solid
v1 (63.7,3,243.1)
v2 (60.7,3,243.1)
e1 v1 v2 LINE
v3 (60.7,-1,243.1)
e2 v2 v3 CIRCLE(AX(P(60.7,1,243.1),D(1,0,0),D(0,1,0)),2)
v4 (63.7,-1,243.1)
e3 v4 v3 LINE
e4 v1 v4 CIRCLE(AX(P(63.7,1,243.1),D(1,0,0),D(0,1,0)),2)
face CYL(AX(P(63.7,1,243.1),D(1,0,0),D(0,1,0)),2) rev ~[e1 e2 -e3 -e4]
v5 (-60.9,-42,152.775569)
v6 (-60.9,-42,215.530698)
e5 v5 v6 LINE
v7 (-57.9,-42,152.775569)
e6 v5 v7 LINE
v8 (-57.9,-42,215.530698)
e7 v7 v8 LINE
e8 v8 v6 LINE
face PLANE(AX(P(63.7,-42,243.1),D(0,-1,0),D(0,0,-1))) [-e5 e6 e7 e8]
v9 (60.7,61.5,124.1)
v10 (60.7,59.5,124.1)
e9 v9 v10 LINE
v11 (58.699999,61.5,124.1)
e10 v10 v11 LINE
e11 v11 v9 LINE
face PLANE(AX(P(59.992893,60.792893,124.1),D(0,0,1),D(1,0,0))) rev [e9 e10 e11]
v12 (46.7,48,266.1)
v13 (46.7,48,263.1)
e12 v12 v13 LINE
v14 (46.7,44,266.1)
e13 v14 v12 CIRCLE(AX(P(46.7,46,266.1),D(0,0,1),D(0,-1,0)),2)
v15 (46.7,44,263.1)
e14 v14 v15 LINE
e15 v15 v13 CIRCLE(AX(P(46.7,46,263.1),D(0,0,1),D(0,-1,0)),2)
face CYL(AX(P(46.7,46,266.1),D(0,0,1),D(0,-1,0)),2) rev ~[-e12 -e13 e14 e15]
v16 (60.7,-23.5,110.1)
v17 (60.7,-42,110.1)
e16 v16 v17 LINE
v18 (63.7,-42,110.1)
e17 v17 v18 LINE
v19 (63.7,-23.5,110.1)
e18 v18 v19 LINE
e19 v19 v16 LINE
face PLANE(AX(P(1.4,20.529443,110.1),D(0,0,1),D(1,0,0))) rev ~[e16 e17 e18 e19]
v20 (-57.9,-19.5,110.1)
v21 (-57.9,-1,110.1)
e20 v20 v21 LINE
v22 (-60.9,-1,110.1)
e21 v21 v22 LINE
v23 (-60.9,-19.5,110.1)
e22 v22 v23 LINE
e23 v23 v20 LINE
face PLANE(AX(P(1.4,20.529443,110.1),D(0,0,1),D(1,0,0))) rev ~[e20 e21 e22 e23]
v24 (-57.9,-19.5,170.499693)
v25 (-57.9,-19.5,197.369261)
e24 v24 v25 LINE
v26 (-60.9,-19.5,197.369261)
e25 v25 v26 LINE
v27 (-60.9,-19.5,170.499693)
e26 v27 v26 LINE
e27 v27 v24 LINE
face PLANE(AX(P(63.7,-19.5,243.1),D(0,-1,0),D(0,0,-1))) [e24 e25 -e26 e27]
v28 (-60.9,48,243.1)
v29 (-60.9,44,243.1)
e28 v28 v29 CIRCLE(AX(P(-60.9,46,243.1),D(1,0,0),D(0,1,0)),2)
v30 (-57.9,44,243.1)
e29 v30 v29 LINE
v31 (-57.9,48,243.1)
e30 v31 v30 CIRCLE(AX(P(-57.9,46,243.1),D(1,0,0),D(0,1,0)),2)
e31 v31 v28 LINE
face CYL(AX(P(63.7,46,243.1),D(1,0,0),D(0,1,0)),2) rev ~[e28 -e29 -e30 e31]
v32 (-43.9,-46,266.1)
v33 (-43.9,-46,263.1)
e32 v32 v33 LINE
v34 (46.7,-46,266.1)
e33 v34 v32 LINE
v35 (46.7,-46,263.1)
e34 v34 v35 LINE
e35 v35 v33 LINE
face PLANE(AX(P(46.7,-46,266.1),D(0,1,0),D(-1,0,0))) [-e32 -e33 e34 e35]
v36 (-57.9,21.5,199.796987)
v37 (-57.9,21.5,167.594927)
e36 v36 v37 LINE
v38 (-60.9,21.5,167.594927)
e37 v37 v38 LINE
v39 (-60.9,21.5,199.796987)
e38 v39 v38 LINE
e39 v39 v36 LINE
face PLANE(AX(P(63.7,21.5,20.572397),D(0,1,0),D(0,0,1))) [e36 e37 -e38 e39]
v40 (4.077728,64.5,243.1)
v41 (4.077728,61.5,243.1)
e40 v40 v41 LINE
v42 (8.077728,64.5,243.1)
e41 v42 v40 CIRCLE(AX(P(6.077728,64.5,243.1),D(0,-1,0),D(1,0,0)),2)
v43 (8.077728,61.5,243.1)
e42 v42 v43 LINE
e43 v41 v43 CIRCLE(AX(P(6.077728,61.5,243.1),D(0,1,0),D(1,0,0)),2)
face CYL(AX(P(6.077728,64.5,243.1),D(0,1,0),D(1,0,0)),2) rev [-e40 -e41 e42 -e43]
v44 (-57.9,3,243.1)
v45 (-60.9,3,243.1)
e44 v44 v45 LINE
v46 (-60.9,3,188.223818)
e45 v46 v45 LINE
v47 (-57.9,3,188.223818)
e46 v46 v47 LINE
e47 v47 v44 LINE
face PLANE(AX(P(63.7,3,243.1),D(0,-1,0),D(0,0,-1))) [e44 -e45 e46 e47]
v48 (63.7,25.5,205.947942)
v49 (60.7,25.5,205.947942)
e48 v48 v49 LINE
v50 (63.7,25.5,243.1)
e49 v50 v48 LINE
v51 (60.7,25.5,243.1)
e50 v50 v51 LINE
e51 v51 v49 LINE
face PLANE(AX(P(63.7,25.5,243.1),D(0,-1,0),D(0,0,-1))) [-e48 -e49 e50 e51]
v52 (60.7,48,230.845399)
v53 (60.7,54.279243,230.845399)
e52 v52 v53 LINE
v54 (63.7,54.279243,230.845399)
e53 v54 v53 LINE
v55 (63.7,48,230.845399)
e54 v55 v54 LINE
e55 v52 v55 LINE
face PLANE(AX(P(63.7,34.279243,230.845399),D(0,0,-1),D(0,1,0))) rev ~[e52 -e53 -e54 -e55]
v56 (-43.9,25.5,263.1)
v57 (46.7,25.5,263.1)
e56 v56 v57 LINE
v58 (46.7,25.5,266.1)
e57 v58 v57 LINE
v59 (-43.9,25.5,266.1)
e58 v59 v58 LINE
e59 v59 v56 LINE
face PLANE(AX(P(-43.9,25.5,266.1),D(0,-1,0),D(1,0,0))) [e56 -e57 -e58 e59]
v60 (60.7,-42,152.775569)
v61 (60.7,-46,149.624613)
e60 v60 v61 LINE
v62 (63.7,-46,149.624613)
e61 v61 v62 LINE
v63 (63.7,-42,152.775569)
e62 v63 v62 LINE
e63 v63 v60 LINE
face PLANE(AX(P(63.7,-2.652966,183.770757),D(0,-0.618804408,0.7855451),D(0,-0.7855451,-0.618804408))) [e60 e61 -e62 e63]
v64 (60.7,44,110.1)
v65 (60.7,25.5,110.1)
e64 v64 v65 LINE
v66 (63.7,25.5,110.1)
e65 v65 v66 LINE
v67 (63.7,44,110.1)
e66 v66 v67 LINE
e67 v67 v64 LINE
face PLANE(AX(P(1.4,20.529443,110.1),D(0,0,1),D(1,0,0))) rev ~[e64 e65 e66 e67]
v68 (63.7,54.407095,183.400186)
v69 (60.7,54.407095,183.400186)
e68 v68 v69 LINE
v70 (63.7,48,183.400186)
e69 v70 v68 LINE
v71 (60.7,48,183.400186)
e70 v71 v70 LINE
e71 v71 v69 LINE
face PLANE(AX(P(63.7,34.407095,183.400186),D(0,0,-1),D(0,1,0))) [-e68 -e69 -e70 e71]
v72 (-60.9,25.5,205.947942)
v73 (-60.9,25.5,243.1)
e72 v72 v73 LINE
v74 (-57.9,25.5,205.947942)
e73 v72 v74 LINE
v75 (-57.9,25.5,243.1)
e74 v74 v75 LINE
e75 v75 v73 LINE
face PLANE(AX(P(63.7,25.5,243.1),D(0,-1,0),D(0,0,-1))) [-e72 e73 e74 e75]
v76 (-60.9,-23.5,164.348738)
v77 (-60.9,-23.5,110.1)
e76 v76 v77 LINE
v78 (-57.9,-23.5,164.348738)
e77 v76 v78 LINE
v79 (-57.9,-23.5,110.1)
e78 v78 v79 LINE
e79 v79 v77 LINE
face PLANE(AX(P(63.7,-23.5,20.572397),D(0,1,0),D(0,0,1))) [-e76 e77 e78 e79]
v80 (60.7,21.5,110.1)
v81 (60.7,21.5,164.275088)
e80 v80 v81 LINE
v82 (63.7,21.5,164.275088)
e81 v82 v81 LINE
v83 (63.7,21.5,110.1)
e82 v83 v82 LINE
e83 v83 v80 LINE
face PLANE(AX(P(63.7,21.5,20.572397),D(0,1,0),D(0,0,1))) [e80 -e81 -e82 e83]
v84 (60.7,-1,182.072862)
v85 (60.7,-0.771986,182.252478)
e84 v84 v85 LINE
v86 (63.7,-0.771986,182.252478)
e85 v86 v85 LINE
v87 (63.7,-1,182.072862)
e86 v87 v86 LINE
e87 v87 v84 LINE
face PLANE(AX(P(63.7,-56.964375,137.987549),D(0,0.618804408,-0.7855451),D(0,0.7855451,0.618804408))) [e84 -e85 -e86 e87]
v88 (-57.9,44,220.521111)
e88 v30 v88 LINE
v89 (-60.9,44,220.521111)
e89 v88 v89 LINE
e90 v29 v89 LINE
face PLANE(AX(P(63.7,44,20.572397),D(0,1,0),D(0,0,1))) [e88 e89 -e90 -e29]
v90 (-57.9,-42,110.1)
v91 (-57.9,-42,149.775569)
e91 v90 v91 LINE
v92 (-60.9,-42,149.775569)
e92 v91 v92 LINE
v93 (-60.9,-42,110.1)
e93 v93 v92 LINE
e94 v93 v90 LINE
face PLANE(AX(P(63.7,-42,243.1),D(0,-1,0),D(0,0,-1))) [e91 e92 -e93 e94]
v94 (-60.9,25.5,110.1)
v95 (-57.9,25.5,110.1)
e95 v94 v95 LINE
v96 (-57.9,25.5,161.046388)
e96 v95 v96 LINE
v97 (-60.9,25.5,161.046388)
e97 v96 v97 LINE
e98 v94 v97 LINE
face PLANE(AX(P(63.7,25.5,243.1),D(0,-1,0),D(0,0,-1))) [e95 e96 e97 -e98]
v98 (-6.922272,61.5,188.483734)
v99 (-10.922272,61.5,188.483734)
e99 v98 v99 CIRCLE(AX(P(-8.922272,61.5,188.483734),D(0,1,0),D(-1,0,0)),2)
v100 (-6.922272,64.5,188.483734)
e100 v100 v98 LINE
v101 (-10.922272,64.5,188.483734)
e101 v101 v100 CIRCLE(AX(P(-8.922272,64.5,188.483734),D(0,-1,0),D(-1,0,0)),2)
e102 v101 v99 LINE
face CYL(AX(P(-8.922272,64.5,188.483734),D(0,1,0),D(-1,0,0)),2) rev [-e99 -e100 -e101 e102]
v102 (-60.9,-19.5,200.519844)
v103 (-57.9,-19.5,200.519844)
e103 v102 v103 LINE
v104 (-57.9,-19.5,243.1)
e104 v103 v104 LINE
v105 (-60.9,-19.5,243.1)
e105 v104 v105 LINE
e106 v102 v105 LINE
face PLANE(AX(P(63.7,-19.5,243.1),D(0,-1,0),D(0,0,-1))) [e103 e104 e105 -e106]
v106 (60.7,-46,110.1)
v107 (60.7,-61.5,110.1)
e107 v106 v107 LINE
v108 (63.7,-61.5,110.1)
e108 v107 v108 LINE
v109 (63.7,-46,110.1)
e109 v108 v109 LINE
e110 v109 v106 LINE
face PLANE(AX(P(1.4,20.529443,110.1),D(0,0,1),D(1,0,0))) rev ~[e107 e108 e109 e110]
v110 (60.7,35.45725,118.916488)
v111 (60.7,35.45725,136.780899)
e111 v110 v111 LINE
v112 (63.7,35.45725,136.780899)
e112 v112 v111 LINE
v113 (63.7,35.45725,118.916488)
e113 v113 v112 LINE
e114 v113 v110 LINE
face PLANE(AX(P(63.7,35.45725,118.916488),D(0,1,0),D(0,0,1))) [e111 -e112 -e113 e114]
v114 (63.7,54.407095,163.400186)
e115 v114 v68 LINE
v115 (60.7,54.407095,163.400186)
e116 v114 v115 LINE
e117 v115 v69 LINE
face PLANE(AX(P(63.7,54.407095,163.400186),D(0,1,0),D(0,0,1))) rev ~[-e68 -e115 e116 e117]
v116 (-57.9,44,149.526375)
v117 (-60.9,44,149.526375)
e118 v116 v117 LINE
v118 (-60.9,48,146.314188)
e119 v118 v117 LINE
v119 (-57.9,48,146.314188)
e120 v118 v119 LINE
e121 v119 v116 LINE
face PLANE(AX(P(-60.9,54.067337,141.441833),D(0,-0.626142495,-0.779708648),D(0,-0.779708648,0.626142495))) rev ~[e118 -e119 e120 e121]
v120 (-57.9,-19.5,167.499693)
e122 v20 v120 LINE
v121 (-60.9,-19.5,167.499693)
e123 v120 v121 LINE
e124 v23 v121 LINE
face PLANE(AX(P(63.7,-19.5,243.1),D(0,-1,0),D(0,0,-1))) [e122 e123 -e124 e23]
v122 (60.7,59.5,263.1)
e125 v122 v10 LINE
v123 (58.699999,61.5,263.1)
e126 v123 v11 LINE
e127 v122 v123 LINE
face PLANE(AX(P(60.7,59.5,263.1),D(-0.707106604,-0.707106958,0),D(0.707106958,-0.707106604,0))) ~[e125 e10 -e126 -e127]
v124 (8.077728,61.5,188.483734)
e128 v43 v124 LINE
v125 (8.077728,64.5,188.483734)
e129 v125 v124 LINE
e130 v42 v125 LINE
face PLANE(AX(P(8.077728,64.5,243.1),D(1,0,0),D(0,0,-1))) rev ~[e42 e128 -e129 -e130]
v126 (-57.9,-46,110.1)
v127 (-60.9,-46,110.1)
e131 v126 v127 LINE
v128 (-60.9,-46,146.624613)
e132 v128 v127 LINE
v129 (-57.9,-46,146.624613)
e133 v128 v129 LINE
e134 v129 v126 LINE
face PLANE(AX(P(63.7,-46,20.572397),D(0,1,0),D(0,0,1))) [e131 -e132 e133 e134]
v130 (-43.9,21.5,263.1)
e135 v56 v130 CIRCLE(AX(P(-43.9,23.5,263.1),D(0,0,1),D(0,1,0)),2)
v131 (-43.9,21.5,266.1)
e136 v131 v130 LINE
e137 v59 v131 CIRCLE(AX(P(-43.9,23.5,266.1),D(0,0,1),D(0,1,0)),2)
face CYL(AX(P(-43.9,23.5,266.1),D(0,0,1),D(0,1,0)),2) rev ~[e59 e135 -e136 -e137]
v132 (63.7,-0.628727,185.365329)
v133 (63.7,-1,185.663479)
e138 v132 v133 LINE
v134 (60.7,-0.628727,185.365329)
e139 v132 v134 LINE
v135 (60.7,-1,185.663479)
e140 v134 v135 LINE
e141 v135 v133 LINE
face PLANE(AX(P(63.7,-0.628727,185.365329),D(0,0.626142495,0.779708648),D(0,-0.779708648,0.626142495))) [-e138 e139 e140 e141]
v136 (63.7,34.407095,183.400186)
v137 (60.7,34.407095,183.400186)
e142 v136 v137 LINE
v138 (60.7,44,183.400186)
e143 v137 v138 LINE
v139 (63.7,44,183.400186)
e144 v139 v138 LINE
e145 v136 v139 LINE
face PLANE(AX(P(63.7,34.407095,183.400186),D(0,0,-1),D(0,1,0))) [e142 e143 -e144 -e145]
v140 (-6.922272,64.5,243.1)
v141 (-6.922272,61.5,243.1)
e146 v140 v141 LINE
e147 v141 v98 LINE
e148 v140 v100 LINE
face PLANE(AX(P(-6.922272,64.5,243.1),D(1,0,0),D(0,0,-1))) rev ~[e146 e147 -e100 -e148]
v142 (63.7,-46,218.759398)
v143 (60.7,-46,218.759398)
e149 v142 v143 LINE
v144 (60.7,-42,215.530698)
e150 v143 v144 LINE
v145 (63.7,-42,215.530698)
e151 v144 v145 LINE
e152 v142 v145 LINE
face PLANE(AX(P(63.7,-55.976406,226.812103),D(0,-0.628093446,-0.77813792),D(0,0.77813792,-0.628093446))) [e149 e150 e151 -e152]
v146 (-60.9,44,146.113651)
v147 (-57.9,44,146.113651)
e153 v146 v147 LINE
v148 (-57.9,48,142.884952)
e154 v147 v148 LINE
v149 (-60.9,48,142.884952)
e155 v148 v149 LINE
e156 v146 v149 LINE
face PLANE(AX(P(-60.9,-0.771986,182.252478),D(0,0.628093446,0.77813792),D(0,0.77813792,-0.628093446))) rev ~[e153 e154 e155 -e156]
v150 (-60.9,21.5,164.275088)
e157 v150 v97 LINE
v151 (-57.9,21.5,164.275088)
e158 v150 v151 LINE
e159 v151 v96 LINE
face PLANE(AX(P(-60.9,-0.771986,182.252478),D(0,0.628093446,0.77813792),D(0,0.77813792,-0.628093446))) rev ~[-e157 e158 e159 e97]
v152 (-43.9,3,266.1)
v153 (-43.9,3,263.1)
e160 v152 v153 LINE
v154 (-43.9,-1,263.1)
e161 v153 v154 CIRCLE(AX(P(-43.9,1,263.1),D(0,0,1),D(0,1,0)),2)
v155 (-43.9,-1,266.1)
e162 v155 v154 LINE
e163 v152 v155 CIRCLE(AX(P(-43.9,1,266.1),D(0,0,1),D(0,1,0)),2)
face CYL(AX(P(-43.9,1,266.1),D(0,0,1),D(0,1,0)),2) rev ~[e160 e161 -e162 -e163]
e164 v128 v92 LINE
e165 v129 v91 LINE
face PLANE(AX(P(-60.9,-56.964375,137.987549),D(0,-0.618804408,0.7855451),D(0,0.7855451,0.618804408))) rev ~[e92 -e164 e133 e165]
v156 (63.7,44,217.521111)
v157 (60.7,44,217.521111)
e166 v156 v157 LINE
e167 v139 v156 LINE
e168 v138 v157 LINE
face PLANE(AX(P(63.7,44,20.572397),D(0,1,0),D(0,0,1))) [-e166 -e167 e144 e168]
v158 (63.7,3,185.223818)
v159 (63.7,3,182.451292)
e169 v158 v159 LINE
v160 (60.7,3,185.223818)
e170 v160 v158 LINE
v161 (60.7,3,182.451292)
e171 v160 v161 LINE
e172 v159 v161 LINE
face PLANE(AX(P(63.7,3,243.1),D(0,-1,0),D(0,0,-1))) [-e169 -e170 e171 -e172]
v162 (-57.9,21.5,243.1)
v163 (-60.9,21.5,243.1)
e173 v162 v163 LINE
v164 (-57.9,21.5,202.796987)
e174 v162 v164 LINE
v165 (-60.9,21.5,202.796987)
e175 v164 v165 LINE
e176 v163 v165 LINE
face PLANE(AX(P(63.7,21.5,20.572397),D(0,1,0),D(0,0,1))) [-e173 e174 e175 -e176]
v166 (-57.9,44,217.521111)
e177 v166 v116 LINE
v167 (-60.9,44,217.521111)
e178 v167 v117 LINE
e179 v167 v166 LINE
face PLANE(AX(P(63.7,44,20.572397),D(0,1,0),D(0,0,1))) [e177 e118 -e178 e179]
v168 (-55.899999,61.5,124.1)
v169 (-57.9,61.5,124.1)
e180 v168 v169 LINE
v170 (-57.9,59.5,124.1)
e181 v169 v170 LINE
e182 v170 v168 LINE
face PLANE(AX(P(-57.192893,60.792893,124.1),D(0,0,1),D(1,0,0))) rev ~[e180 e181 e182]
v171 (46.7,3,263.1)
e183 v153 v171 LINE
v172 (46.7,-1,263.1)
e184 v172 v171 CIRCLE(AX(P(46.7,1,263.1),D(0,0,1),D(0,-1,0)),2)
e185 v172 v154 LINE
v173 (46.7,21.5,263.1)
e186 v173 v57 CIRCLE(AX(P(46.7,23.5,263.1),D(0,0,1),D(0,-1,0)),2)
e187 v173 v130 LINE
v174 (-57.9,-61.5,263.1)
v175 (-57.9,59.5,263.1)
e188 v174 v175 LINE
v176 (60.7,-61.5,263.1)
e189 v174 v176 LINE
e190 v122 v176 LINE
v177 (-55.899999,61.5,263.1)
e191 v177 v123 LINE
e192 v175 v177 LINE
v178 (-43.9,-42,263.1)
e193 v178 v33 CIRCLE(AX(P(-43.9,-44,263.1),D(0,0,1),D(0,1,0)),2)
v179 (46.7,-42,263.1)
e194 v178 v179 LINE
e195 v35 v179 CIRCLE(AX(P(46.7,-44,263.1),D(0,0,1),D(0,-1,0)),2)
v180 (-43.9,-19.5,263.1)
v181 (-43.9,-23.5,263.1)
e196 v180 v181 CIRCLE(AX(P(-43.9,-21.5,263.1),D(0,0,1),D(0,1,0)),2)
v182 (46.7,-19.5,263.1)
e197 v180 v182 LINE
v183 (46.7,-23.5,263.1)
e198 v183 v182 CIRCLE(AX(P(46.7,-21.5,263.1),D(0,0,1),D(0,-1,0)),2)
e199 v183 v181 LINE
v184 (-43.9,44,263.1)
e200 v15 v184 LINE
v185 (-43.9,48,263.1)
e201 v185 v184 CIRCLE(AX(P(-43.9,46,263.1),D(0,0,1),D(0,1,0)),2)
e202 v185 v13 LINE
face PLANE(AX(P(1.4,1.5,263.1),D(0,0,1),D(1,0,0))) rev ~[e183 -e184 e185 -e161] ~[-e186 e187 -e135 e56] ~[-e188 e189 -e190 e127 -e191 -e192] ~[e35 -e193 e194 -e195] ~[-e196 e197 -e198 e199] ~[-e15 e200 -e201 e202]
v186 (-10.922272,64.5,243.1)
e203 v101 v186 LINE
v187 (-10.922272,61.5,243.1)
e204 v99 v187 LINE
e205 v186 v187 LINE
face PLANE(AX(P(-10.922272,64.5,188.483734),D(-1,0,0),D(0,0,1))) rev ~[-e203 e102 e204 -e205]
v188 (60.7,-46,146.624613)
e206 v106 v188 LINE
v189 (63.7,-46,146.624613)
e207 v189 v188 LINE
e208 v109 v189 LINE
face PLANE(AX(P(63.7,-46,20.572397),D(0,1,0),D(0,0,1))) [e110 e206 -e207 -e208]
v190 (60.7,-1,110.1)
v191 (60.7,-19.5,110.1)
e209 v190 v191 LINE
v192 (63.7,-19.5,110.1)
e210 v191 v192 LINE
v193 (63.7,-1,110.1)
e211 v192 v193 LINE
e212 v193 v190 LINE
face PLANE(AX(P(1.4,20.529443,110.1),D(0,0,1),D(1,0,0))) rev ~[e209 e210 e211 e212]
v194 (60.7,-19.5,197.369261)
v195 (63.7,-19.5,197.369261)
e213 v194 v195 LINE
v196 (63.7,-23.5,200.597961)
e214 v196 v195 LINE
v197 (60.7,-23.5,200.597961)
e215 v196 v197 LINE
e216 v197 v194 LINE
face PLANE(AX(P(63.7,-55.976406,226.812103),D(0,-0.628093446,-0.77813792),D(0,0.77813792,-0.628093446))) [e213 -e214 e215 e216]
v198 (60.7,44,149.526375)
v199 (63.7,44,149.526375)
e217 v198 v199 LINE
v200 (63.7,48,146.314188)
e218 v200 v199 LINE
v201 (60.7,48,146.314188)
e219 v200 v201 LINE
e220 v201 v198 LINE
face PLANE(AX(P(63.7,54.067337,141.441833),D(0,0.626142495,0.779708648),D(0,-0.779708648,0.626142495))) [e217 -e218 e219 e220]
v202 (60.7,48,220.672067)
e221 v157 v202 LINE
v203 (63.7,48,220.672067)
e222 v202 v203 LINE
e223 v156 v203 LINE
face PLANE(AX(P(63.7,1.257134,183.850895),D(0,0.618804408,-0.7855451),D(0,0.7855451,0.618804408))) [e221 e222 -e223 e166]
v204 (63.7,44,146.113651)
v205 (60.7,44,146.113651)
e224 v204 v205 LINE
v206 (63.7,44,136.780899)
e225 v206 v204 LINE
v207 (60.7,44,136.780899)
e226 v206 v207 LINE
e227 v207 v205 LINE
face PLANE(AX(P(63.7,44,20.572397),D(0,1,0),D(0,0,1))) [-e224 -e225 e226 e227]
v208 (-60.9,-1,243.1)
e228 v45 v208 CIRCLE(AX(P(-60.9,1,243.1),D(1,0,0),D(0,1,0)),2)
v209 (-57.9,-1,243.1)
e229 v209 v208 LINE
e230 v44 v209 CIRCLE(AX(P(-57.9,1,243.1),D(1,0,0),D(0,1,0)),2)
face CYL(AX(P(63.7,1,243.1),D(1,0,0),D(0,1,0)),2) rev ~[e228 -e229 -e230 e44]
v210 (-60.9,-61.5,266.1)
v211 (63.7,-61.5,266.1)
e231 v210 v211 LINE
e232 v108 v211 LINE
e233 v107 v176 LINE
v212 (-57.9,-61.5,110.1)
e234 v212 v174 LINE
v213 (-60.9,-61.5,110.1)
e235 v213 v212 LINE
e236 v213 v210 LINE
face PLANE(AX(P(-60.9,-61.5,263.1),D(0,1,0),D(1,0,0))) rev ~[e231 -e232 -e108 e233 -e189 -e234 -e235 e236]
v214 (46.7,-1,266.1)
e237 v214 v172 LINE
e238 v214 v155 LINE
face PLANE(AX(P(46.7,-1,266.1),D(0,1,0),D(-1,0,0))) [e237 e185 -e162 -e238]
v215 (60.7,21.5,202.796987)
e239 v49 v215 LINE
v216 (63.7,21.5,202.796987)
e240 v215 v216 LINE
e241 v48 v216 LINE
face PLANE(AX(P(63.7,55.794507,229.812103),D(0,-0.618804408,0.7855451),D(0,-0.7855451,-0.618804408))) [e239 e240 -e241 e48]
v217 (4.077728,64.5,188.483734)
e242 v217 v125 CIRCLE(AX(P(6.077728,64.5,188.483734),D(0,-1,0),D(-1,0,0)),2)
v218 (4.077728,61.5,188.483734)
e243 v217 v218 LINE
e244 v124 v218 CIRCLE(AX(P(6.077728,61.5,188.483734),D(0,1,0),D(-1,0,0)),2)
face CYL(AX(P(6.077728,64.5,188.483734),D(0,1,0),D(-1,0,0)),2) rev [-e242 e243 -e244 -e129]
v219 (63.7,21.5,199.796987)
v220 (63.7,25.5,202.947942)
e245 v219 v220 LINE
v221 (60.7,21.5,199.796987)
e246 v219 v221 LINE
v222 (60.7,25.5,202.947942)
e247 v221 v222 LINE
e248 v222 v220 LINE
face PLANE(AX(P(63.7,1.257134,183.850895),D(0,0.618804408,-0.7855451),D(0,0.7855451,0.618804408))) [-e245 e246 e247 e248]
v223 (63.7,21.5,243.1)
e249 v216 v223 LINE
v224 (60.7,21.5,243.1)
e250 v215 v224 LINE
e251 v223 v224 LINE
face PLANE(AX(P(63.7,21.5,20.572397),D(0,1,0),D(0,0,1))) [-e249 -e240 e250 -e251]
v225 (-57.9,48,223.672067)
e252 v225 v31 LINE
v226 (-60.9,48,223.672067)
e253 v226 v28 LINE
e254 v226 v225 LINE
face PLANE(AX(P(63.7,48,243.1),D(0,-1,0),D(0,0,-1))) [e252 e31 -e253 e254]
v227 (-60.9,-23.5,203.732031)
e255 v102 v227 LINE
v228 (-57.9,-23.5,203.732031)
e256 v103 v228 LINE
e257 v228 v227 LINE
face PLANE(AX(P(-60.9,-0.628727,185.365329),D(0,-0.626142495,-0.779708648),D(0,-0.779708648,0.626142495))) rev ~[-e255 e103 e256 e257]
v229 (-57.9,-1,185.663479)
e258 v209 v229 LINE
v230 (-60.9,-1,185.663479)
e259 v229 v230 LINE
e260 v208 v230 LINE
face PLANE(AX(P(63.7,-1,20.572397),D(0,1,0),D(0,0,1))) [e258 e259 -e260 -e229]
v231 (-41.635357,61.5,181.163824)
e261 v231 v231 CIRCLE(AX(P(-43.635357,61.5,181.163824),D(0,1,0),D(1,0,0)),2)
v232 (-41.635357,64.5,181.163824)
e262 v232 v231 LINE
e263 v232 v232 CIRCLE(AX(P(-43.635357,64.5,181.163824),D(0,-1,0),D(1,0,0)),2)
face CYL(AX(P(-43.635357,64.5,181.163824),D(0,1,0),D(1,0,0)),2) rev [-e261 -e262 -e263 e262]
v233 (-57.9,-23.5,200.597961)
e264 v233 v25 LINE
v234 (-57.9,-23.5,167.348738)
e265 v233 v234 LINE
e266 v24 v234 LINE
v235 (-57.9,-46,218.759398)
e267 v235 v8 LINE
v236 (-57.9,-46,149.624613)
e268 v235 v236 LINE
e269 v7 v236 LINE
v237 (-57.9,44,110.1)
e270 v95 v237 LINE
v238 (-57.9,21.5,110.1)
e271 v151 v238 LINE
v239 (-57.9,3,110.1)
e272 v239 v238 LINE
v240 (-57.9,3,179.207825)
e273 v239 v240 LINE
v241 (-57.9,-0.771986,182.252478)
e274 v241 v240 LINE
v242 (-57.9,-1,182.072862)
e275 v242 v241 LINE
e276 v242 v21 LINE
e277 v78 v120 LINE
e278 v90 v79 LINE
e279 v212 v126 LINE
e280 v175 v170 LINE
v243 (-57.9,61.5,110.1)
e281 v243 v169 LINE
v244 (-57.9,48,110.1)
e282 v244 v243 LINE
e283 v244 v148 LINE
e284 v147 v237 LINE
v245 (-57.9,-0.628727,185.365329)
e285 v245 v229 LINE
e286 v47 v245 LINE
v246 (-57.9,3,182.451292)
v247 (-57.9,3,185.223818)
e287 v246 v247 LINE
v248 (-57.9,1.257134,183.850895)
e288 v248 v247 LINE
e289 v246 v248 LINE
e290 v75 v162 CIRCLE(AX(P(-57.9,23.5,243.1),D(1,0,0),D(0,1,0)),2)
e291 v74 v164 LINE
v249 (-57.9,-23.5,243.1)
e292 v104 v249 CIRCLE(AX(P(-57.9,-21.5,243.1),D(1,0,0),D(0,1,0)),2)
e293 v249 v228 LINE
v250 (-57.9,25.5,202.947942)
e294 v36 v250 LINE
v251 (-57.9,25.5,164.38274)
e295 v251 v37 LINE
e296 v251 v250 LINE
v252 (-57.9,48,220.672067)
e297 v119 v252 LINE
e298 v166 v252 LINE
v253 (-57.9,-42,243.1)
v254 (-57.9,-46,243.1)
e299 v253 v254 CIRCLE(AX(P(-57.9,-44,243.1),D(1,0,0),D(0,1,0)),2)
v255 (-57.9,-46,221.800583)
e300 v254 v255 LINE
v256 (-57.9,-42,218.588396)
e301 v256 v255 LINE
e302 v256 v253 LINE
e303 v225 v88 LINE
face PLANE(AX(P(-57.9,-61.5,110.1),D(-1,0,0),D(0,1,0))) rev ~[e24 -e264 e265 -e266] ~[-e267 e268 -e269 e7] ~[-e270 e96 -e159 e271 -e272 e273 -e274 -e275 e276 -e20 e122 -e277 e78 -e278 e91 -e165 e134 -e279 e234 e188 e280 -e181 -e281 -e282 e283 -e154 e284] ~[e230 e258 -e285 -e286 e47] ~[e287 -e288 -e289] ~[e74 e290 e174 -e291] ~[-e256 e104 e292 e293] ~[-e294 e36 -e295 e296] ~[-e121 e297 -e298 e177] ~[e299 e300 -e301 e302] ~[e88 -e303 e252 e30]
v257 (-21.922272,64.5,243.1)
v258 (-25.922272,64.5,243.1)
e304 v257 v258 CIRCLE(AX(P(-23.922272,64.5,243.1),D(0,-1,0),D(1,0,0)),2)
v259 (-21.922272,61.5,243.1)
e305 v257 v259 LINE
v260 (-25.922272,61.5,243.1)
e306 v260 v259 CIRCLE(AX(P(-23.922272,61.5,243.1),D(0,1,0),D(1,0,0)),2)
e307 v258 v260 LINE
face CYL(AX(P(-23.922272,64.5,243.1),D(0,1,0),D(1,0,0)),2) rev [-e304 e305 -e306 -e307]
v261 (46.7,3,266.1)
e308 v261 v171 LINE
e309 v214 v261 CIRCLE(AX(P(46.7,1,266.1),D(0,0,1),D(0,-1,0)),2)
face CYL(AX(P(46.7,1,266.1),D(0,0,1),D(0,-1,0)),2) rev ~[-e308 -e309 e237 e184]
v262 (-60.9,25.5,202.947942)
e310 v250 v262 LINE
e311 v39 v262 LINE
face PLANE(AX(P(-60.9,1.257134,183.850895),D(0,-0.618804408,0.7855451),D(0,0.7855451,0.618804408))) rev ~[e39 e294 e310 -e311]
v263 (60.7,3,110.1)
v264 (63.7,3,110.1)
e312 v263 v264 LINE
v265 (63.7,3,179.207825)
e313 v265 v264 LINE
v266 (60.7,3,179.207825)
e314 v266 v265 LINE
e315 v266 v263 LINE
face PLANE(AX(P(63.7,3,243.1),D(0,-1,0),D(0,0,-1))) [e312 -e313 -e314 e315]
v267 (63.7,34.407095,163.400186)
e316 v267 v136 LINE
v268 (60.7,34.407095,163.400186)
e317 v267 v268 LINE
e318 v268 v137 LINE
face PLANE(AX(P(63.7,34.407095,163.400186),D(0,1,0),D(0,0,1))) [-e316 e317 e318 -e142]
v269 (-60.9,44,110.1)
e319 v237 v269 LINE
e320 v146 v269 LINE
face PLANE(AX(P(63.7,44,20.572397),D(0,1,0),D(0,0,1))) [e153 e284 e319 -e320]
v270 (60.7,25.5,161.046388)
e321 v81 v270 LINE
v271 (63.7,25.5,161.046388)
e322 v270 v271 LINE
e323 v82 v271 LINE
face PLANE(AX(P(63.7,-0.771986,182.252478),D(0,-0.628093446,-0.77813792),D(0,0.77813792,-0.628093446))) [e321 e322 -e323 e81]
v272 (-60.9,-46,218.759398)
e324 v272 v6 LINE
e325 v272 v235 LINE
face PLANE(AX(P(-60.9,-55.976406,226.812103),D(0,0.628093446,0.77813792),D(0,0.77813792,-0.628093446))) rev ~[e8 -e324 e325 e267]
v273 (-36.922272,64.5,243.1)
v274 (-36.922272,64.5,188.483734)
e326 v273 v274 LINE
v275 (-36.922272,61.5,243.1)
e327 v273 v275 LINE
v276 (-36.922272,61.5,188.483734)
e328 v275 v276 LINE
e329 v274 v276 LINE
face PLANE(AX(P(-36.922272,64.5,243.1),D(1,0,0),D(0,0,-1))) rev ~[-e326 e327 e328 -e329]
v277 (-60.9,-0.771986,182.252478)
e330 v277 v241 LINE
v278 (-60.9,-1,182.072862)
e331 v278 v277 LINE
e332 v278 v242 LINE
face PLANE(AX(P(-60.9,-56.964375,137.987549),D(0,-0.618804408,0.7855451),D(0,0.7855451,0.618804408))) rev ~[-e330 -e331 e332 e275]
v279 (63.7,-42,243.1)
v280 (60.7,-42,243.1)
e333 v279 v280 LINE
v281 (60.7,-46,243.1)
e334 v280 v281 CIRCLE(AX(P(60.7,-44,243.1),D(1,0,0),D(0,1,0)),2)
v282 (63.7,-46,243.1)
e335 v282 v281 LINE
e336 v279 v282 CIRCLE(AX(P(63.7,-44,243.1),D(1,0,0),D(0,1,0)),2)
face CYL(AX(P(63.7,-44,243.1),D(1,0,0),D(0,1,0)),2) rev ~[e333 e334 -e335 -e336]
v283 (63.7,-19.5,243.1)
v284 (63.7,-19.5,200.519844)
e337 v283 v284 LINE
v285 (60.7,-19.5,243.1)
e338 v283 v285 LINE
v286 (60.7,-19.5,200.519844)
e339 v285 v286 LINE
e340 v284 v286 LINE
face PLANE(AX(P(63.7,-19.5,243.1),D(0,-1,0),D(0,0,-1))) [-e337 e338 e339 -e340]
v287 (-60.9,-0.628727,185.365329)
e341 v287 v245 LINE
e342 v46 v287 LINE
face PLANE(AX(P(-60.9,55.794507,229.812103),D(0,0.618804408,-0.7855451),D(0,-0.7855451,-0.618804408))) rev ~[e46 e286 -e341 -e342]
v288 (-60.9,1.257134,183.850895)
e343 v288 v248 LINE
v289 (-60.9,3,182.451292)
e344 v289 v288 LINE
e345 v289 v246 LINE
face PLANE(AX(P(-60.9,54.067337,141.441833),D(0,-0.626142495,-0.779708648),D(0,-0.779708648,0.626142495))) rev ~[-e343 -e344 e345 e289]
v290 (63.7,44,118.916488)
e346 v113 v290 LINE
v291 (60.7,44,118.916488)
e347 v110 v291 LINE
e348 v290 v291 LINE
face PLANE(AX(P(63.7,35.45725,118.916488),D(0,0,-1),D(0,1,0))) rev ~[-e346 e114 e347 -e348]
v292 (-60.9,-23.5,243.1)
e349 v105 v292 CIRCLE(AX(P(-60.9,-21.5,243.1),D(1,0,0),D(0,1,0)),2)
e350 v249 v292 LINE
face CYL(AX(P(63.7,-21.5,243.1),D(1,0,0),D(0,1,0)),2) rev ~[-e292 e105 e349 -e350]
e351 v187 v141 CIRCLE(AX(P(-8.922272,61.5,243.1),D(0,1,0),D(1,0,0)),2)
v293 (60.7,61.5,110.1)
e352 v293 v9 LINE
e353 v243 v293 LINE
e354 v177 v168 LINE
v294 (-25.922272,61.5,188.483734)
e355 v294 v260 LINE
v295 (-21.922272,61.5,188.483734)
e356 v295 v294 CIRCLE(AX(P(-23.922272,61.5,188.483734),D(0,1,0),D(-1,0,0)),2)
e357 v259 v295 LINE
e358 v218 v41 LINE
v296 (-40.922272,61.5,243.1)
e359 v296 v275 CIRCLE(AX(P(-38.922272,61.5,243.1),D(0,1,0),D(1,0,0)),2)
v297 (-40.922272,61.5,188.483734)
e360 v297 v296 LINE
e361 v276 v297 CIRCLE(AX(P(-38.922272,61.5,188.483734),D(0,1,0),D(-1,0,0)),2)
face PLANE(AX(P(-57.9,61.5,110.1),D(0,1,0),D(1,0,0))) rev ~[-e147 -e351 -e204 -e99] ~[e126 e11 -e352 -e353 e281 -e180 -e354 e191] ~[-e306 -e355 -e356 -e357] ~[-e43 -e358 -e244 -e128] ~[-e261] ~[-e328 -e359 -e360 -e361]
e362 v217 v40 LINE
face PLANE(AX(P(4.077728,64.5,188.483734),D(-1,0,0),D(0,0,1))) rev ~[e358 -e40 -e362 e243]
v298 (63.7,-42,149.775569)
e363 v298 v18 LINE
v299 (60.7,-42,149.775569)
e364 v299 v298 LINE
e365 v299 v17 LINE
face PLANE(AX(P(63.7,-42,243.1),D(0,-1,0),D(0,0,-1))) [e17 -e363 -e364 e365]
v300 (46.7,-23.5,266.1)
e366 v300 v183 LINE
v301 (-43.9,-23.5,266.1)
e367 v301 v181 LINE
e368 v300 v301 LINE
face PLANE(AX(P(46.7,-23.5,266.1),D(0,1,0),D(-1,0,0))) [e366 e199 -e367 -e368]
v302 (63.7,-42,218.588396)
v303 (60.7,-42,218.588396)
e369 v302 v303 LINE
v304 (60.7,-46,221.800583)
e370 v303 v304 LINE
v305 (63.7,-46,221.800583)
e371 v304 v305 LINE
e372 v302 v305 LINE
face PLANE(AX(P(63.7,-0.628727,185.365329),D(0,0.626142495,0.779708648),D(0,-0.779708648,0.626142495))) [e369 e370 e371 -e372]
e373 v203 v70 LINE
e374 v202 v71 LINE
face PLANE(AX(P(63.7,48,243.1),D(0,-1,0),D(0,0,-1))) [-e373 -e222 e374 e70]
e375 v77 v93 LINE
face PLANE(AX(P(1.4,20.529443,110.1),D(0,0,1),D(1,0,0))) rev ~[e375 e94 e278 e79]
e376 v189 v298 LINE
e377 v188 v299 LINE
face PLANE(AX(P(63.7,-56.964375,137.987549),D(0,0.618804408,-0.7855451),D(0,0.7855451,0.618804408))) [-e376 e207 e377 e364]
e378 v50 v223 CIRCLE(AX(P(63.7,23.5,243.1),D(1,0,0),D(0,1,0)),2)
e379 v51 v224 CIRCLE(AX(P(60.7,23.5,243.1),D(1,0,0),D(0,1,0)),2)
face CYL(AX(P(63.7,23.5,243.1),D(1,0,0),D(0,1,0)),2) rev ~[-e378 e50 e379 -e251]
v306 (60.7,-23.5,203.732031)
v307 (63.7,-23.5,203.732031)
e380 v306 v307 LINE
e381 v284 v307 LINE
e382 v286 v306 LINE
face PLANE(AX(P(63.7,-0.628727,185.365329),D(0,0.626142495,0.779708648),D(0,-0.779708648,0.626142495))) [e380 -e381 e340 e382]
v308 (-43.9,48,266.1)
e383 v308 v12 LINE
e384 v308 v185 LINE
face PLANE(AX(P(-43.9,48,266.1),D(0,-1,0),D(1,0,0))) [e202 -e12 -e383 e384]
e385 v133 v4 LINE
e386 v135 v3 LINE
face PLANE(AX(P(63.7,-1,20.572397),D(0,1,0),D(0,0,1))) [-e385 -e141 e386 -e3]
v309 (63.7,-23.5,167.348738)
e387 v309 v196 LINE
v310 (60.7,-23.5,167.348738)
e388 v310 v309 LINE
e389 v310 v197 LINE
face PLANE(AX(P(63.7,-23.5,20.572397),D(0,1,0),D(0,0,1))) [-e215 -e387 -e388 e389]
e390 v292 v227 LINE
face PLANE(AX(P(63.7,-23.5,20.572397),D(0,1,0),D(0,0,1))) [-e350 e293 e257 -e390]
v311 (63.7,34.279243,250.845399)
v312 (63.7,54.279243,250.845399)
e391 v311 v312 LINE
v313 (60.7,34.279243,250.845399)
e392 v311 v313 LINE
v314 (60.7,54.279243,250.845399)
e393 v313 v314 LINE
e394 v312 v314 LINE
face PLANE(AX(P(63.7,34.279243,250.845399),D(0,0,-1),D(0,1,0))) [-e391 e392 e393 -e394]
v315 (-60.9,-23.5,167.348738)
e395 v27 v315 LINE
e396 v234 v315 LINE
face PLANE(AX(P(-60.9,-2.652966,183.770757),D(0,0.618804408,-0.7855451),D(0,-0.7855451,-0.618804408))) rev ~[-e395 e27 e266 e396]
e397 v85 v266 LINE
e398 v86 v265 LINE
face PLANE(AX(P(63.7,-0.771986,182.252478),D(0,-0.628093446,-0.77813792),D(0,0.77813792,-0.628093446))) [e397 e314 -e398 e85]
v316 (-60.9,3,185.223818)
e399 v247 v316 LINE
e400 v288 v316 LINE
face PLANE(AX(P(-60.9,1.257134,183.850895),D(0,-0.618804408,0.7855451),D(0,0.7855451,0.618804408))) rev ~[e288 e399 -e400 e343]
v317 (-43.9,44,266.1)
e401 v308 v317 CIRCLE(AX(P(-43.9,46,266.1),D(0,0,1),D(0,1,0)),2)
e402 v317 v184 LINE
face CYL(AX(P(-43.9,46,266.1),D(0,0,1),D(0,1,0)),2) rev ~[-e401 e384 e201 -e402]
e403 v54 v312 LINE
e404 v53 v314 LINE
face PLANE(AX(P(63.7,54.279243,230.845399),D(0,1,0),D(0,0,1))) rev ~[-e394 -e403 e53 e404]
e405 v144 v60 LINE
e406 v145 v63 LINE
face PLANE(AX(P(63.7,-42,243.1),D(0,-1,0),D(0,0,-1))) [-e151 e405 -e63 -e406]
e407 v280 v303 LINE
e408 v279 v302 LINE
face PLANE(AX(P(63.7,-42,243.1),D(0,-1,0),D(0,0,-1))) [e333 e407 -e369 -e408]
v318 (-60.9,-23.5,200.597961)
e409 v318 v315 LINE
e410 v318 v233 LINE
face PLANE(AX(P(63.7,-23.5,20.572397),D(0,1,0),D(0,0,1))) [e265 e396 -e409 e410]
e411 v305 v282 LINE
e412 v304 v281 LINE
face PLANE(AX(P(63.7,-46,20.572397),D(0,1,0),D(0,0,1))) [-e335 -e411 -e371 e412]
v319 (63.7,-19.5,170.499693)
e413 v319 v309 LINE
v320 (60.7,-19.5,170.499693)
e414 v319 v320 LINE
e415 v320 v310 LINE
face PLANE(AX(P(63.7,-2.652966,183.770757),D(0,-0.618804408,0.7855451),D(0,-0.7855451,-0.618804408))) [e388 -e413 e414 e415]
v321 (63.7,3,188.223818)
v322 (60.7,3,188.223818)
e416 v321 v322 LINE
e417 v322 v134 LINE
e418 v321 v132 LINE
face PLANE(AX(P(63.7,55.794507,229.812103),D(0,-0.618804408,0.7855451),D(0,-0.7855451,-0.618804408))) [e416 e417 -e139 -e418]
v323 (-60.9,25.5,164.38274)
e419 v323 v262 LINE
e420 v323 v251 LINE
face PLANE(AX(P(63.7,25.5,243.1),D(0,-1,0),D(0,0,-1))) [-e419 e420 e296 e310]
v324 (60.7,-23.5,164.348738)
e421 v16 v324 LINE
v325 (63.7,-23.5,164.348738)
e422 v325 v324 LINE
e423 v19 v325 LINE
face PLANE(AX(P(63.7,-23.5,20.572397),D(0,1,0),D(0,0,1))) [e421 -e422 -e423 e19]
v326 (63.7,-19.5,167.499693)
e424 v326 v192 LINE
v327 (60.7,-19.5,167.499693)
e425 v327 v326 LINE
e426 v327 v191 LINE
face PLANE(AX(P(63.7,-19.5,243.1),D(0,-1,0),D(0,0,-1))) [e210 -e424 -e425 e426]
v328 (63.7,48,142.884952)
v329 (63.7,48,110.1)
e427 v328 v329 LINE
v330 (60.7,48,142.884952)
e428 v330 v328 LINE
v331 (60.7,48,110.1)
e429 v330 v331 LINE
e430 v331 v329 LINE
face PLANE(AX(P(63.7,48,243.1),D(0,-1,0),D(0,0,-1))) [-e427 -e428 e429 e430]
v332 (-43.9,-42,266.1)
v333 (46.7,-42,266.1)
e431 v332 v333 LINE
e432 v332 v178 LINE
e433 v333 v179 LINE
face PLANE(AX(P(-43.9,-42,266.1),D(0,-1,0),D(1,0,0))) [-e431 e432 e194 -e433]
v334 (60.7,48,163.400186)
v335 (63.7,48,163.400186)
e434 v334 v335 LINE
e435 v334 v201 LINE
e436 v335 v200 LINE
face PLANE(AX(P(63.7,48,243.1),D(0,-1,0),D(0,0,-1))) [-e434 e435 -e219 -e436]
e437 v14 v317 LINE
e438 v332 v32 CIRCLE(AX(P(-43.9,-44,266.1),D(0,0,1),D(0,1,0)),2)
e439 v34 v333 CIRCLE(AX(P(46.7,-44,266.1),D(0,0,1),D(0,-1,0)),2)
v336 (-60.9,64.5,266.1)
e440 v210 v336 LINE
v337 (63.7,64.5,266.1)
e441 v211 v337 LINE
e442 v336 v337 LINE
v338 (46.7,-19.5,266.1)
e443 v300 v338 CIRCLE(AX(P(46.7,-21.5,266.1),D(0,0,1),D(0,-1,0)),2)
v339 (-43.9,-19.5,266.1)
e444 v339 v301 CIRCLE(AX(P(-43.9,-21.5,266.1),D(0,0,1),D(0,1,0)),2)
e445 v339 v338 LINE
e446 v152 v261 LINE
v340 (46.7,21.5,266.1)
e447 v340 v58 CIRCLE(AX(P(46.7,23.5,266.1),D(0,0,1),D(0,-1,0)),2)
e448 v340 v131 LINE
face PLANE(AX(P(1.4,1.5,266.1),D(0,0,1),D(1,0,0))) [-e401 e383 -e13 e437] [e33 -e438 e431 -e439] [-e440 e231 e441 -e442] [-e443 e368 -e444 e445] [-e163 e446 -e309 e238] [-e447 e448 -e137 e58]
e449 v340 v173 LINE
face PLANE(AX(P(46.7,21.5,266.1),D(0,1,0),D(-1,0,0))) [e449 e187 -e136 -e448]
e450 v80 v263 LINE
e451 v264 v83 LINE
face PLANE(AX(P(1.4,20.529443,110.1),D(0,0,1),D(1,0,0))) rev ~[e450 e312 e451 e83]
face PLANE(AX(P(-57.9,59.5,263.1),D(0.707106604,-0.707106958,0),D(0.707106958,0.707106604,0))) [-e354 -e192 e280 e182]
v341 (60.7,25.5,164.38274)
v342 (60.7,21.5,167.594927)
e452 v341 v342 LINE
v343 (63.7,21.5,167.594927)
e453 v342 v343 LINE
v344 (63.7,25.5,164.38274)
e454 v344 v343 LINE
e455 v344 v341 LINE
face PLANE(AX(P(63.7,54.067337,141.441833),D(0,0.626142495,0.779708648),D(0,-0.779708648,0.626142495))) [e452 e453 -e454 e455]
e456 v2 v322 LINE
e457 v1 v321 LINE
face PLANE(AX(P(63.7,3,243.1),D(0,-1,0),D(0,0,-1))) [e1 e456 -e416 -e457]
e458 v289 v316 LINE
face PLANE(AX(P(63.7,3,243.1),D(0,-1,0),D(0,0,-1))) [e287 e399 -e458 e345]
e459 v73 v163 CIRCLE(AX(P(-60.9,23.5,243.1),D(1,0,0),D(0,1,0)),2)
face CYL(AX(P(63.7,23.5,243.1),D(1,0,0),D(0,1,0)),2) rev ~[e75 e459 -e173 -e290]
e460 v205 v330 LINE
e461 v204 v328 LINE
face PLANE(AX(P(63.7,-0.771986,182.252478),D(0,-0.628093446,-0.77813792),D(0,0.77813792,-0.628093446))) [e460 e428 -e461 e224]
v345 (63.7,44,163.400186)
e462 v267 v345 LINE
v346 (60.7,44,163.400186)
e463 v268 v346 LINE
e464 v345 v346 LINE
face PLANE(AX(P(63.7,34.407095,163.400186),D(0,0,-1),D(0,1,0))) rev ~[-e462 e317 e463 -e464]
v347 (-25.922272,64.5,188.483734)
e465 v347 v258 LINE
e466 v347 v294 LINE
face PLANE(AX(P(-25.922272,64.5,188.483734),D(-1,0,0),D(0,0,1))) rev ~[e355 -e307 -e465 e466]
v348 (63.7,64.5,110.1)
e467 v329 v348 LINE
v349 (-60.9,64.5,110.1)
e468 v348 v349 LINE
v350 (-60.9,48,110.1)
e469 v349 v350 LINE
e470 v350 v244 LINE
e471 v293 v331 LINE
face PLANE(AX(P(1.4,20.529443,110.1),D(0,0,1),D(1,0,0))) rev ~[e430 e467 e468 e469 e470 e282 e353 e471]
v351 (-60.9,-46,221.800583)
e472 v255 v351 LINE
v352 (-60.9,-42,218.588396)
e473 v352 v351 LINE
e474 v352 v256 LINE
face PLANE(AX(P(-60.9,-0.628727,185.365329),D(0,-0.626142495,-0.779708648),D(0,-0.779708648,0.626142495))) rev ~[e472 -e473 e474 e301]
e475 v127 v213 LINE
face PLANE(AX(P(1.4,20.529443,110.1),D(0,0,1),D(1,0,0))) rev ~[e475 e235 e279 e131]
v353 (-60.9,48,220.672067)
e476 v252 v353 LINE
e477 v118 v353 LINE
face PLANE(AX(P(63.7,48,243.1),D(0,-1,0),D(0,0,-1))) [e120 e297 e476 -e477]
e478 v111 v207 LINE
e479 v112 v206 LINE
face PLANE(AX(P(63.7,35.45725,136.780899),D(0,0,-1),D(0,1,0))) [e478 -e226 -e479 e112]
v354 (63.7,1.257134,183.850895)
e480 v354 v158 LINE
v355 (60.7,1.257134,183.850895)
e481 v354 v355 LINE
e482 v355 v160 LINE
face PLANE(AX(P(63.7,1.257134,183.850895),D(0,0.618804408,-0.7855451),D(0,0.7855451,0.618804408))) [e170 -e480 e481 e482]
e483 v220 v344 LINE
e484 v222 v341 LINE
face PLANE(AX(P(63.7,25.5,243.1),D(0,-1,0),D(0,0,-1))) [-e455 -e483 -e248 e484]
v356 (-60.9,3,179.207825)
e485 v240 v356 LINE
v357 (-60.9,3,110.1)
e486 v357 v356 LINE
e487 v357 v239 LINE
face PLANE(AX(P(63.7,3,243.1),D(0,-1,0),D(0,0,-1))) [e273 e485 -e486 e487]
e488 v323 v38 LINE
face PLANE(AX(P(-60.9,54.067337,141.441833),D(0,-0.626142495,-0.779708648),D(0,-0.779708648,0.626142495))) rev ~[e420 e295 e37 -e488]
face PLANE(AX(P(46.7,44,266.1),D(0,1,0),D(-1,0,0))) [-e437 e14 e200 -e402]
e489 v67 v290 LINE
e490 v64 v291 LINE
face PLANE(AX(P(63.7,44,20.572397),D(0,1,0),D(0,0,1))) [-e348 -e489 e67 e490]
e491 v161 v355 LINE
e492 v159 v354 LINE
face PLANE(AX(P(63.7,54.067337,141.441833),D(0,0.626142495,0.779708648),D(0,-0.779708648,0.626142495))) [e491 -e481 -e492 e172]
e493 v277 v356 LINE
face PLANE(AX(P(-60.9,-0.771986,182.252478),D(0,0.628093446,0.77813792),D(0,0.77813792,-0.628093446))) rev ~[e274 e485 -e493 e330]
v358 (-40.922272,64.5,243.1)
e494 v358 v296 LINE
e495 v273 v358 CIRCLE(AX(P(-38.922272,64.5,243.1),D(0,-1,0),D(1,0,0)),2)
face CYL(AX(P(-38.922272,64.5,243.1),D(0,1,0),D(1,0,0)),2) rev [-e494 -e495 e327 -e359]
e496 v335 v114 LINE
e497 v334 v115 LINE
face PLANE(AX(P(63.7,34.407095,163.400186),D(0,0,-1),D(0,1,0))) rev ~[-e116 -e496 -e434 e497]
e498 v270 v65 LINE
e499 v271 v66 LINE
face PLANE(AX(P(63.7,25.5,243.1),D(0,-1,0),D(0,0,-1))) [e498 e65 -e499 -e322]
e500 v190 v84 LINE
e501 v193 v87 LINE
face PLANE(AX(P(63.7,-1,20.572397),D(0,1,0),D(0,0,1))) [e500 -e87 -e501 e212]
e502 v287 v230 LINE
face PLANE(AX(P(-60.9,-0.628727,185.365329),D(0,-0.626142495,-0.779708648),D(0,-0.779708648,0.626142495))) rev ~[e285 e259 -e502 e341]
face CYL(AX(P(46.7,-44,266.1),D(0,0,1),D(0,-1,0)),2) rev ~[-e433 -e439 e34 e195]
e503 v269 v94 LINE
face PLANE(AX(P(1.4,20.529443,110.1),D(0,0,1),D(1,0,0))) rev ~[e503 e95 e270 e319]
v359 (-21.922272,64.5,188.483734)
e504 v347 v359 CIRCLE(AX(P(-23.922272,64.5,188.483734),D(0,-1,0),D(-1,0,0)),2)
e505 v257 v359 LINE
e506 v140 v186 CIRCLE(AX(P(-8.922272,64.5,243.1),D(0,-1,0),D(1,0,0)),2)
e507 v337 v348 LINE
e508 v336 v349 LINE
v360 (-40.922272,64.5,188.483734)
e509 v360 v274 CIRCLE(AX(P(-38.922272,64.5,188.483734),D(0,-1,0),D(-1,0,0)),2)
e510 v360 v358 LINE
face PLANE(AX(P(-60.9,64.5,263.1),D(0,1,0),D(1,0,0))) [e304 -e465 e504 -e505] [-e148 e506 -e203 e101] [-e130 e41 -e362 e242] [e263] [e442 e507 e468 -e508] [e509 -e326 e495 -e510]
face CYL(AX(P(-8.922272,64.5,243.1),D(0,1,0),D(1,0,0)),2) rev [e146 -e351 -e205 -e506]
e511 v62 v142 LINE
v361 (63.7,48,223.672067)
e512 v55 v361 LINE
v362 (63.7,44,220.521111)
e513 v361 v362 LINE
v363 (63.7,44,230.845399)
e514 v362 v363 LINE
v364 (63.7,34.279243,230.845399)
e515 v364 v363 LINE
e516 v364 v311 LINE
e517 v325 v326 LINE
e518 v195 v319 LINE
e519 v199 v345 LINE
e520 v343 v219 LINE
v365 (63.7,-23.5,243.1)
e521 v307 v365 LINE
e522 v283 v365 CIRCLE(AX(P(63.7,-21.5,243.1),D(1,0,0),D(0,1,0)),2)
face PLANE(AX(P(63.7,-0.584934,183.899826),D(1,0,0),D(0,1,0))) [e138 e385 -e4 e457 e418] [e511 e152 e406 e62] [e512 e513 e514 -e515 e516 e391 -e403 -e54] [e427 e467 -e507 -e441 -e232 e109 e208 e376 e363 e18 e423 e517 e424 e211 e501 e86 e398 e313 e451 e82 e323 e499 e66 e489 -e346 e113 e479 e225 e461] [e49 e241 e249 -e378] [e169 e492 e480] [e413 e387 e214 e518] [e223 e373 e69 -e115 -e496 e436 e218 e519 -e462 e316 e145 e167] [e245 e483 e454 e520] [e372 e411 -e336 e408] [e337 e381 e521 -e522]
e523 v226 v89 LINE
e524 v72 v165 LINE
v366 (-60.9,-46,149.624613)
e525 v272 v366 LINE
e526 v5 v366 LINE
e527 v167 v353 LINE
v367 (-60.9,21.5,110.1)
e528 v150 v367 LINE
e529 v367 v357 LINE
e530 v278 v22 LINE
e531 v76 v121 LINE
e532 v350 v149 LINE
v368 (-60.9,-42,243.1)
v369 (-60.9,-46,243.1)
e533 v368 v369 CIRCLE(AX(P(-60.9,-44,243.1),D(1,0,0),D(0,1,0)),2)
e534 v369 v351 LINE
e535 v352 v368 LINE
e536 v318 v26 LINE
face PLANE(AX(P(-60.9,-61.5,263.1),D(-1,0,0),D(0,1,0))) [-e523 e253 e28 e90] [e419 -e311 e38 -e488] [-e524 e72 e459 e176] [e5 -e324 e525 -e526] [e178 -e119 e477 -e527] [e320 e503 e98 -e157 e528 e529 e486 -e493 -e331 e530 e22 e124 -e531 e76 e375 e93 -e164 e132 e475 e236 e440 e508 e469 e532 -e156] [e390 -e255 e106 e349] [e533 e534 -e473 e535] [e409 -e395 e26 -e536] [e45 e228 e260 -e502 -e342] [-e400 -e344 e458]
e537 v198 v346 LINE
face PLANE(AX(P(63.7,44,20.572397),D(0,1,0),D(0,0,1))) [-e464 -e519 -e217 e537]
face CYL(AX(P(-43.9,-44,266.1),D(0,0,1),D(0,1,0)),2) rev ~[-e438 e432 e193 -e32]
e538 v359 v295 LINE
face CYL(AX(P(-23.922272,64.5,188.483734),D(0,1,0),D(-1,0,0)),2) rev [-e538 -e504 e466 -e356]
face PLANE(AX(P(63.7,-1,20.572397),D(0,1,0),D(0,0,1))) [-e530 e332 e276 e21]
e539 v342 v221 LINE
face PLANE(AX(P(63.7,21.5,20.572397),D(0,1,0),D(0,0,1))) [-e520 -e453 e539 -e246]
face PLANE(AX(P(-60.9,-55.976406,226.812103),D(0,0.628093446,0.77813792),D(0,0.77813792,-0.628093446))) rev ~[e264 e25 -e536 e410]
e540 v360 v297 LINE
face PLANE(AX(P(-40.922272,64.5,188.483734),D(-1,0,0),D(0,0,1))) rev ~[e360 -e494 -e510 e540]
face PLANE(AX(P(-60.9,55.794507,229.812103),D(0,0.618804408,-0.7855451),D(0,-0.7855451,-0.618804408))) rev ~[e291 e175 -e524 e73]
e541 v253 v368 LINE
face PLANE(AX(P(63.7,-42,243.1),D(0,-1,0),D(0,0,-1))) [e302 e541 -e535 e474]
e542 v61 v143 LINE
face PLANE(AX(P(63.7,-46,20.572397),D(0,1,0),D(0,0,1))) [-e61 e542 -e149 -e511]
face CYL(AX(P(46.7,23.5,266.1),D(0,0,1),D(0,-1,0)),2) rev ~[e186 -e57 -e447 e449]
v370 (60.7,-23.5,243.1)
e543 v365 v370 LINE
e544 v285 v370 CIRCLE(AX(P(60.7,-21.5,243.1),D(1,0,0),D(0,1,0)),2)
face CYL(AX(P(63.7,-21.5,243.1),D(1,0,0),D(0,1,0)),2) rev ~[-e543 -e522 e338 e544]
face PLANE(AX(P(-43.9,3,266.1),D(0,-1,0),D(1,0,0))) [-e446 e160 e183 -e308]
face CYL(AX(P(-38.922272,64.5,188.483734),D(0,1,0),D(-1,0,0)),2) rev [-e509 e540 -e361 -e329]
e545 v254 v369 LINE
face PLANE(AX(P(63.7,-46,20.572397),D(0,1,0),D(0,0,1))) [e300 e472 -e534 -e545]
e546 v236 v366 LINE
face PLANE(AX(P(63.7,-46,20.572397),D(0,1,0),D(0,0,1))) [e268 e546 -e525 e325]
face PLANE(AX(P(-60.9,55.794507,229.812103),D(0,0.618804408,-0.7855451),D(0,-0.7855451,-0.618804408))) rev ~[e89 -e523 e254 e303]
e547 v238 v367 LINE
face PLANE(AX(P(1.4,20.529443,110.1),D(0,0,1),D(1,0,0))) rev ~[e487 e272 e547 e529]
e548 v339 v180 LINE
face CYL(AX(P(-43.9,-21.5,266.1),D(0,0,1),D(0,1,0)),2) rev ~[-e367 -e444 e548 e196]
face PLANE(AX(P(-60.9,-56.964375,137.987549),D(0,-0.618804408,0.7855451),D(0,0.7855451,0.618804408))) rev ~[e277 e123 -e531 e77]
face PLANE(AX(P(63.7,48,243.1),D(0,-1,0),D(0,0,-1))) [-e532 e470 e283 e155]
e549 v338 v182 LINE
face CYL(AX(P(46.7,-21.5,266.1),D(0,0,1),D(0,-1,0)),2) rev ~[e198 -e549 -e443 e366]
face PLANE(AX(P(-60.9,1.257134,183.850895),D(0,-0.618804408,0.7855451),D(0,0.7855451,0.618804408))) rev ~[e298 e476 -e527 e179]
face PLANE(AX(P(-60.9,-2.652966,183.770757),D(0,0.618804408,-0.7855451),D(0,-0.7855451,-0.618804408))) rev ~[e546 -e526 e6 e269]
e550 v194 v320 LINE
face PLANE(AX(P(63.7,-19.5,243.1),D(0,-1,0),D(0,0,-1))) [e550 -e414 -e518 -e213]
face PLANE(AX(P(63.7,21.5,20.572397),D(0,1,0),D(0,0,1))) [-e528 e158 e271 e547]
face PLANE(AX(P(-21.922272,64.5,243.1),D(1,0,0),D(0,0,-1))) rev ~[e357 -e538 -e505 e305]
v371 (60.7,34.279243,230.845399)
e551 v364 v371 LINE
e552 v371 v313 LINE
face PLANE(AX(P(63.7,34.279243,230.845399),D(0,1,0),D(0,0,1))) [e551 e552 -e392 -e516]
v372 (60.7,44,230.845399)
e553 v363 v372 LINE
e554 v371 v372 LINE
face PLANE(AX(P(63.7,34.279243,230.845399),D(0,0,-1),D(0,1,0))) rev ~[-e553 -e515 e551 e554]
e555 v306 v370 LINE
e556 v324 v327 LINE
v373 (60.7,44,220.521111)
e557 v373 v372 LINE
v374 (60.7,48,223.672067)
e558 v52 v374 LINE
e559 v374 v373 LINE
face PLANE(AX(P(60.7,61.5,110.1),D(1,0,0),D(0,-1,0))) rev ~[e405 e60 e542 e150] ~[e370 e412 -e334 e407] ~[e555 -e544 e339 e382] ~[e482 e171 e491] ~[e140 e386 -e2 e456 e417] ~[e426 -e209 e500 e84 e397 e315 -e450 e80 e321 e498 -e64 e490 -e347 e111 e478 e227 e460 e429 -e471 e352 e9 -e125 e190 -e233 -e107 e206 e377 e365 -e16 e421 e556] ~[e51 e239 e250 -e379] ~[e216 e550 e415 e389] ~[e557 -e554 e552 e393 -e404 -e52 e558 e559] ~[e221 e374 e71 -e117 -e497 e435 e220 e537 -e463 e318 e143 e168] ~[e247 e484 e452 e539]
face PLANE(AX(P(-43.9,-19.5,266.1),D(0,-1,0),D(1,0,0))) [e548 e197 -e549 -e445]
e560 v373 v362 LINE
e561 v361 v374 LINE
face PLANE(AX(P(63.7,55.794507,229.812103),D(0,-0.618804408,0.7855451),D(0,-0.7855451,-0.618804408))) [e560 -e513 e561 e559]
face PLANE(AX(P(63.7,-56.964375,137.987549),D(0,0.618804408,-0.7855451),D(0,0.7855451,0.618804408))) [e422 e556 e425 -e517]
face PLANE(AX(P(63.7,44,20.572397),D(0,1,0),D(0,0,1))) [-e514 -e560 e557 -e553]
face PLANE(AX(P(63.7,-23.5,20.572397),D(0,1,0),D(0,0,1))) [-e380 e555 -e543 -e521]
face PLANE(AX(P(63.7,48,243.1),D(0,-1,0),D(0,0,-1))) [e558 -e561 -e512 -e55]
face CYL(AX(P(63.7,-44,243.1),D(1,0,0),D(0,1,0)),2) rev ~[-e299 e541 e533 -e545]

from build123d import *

# Parameters (mm, degrees)
PAD004_DEPTH           = 153
PAD005_DEPTH           = 139
SKETCH007_W            = 124.6
SKETCH007_H            = 126
PAD006_DEPTH           = 3
POCKET002_DEPTH        = 124.601
LINEARPATTERN001_COUNT = 5
LINEARPATTERN001_PITCH = 22.5
POCKET003_DEPTH        = 4
LINEARPATTERN002_COUNT = 5
LINEARPATTERN002_PITCH = 22.5
SKETCH015_R            = 2
POCKET006_DEPTH        = 5
SKETCH016_W            = 12.436569
SKETCH016_H            = 17.864411
SKETCH016_W_2          = 20
SKETCH016_H_2          = 20
POCKET008_DEPTH        = 5
PAD007_DEPTH           = 3
PAD008_DEPTH           = 3


with BuildPart() as part:
    # Sketch006 → Pad004 (new body)
    with BuildSketch(Plane.XY):
        Polygon((62.3, 64.5), (-62.3, 64.5), (-62.3, -61.5), (-59.3, -61.5), (-59.3, 61.5), (59.3, 61.5), (59.3, -61.5), (62.3, -61.5), align=None)
    extrude(amount=PAD004_DEPTH)

    # Sketch008 (on DatumPlane) → Pad005 (join)
    with BuildSketch(Plane.XY.offset(153)):
        Polygon((-59.3, 59.5), (-57.299999, 61.5), (-59.3, 61.5), align=None)
    pad005 = extrude(amount=-PAD005_DEPTH)

    # Mirrored001: Pad005 across Sketch008 V_Axis
    add(pad005.mirror(Plane(origin=(0, 0, 153), x_dir=(0, 0, 1), z_dir=(1, 0, 0))))

    # Sketch007 (on DatumPlane) → Pad006 (join)
    with BuildSketch(Plane.XY.offset(153)):
        with Locations((0, 1.5)):
            Rectangle(SKETCH007_W, SKETCH007_H)
    extrude(amount=PAD006_DEPTH)

    # Sketch010 (on DatumPlane) → Pocket002 (cut, through all)
    with BuildSketch(Plane.YZ.offset(62.3)):
        with BuildLine():
            Line((-46, -89.527603), (-46, 133))
            ThreePointArc((-42, 133), (-44, 135), (-46, 133))
            Line((-42, 133), (-42, -89.527603))
            ThreePointArc((-46, -89.527603), (-44, -91.527603), (-42, -89.527603))
        make_face()
    pocket002 = extrude(amount=-POCKET002_DEPTH, mode=Mode.SUBTRACT)

    # LinearPattern001: Pocket002 ×5
    with Locations(*[(0, i * LINEARPATTERN001_PITCH, 0) for i in range(1, LINEARPATTERN001_COUNT)]):
        add(pocket002, mode=Mode.SUBTRACT)

    # Sketch011 (on Face13 of Pad006) → Pocket003 (cut)
    with BuildSketch(Plane.XY.offset(156)):
        with BuildLine():
            Line((-45.3, -42), (45.3, -42))
            ThreePointArc((45.3, -46), (47.3, -44), (45.3, -42))
            Line((45.3, -46), (-45.3, -46))
            ThreePointArc((-45.3, -42), (-47.3, -44), (-45.3, -46))
        make_face()
    pocket003 = extrude(amount=-POCKET003_DEPTH, mode=Mode.SUBTRACT)

    # LinearPattern002: Pocket003 ×5
    with Locations(*[(0, i * LINEARPATTERN002_PITCH, 0) for i in range(1, LINEARPATTERN002_COUNT)]):
        add(pocket003, mode=Mode.SUBTRACT)

    # Sketch015 (on DatumPlane) → Pocket006 (cut)
    with BuildSketch(Plane.XZ.offset(-64.5)):
        with Locations((-45.035357, 71.063824)):
            Circle(SKETCH015_R)
        with BuildLine():
            Line((-27.322272, 78.383734), (-27.322272, 133))
            ThreePointArc((-23.322272, 133), (-25.322272, 135), (-27.322272, 133))
            Line((-23.322272, 133), (-23.322272, 78.383734))
            ThreePointArc((-27.322272, 78.383734), (-25.322272, 76.383734), (-23.322272, 78.383734))
        make_face()
        with BuildLine():
            Line((-12.322272, 78.383734), (-12.322272, 133))
            ThreePointArc((-8.322272, 133), (-10.322272, 135), (-12.322272, 133))
            Line((-8.322272, 133), (-8.322272, 78.383734))
            ThreePointArc((-12.322272, 78.383734), (-10.322272, 76.383734), (-8.322272, 78.383734))
        make_face()
        with BuildLine():
            Line((2.677728, 78.383734), (2.677728, 133))
            ThreePointArc((6.677728, 133), (4.677728, 135), (2.677728, 133))
            Line((6.677728, 133), (6.677728, 78.383734))
            ThreePointArc((2.677728, 78.383734), (4.677728, 76.383734), (6.677728, 78.383734))
        make_face()
        with BuildLine():
            Line((-42.322272, 78.383734), (-42.322272, 133))
            ThreePointArc((-38.322272, 133), (-40.322272, 135), (-42.322272, 133))
            Line((-38.322272, 133), (-38.322272, 78.383734))
            ThreePointArc((-42.322272, 78.383734), (-40.322272, 76.383734), (-38.322272, 78.383734))
        make_face()
    extrude(amount=POCKET006_DEPTH, mode=Mode.SUBTRACT)

    # Sketch016 (on DatumPlane) → Pocket008 (cut)
    with BuildSketch(Plane.YZ.offset(62.3)):
        with Locations((41.675534, 17.748693)):
            Rectangle(SKETCH016_W, SKETCH016_H)
        with Locations((44.407095, 63.300186)):
            Rectangle(SKETCH016_W_2, SKETCH016_H_2)
        with Locations((44.279243, 130.745399)):
            Rectangle(SKETCH016_W_2, SKETCH016_H_2)
    extrude(amount=-POCKET008_DEPTH, mode=Mode.SUBTRACT)

    # Sketch017 (on DatumPlane) → Pad007 (join)
    with BuildSketch(Plane.YZ.offset(62.3)):
        Polygon((55.794507, 119.712103), (-56.964375, 30.887549), (-56.964375, 27.887549), (55.794507, 116.712103), align=None)
        Polygon((54.067337, 31.341833), (-55.976406, 119.712103), (-55.976406, 116.712103), (54.067337, 27.887549), align=None)
    extrude(amount=-PAD007_DEPTH)

    # Sketch018 (on DatumPlane) → Pad008 (join)
    with BuildSketch(Plane.YZ.offset(-62.3)):
        Polygon((55.794507, 119.712103), (-56.964375, 30.887549), (-56.964375, 27.887549), (55.794507, 116.712103), align=None)
        Polygon((54.067337, 31.341833), (-55.976406, 119.712103), (-55.976406, 116.712103), (54.067337, 27.887549), align=None)
    extrude(amount=PAD008_DEPTH)


with BuildPart() as part_1:
    # Body001 placement: moved
    add(part.part.moved(Location((1.4, 0, 110.1))))


solid = part_1.part
